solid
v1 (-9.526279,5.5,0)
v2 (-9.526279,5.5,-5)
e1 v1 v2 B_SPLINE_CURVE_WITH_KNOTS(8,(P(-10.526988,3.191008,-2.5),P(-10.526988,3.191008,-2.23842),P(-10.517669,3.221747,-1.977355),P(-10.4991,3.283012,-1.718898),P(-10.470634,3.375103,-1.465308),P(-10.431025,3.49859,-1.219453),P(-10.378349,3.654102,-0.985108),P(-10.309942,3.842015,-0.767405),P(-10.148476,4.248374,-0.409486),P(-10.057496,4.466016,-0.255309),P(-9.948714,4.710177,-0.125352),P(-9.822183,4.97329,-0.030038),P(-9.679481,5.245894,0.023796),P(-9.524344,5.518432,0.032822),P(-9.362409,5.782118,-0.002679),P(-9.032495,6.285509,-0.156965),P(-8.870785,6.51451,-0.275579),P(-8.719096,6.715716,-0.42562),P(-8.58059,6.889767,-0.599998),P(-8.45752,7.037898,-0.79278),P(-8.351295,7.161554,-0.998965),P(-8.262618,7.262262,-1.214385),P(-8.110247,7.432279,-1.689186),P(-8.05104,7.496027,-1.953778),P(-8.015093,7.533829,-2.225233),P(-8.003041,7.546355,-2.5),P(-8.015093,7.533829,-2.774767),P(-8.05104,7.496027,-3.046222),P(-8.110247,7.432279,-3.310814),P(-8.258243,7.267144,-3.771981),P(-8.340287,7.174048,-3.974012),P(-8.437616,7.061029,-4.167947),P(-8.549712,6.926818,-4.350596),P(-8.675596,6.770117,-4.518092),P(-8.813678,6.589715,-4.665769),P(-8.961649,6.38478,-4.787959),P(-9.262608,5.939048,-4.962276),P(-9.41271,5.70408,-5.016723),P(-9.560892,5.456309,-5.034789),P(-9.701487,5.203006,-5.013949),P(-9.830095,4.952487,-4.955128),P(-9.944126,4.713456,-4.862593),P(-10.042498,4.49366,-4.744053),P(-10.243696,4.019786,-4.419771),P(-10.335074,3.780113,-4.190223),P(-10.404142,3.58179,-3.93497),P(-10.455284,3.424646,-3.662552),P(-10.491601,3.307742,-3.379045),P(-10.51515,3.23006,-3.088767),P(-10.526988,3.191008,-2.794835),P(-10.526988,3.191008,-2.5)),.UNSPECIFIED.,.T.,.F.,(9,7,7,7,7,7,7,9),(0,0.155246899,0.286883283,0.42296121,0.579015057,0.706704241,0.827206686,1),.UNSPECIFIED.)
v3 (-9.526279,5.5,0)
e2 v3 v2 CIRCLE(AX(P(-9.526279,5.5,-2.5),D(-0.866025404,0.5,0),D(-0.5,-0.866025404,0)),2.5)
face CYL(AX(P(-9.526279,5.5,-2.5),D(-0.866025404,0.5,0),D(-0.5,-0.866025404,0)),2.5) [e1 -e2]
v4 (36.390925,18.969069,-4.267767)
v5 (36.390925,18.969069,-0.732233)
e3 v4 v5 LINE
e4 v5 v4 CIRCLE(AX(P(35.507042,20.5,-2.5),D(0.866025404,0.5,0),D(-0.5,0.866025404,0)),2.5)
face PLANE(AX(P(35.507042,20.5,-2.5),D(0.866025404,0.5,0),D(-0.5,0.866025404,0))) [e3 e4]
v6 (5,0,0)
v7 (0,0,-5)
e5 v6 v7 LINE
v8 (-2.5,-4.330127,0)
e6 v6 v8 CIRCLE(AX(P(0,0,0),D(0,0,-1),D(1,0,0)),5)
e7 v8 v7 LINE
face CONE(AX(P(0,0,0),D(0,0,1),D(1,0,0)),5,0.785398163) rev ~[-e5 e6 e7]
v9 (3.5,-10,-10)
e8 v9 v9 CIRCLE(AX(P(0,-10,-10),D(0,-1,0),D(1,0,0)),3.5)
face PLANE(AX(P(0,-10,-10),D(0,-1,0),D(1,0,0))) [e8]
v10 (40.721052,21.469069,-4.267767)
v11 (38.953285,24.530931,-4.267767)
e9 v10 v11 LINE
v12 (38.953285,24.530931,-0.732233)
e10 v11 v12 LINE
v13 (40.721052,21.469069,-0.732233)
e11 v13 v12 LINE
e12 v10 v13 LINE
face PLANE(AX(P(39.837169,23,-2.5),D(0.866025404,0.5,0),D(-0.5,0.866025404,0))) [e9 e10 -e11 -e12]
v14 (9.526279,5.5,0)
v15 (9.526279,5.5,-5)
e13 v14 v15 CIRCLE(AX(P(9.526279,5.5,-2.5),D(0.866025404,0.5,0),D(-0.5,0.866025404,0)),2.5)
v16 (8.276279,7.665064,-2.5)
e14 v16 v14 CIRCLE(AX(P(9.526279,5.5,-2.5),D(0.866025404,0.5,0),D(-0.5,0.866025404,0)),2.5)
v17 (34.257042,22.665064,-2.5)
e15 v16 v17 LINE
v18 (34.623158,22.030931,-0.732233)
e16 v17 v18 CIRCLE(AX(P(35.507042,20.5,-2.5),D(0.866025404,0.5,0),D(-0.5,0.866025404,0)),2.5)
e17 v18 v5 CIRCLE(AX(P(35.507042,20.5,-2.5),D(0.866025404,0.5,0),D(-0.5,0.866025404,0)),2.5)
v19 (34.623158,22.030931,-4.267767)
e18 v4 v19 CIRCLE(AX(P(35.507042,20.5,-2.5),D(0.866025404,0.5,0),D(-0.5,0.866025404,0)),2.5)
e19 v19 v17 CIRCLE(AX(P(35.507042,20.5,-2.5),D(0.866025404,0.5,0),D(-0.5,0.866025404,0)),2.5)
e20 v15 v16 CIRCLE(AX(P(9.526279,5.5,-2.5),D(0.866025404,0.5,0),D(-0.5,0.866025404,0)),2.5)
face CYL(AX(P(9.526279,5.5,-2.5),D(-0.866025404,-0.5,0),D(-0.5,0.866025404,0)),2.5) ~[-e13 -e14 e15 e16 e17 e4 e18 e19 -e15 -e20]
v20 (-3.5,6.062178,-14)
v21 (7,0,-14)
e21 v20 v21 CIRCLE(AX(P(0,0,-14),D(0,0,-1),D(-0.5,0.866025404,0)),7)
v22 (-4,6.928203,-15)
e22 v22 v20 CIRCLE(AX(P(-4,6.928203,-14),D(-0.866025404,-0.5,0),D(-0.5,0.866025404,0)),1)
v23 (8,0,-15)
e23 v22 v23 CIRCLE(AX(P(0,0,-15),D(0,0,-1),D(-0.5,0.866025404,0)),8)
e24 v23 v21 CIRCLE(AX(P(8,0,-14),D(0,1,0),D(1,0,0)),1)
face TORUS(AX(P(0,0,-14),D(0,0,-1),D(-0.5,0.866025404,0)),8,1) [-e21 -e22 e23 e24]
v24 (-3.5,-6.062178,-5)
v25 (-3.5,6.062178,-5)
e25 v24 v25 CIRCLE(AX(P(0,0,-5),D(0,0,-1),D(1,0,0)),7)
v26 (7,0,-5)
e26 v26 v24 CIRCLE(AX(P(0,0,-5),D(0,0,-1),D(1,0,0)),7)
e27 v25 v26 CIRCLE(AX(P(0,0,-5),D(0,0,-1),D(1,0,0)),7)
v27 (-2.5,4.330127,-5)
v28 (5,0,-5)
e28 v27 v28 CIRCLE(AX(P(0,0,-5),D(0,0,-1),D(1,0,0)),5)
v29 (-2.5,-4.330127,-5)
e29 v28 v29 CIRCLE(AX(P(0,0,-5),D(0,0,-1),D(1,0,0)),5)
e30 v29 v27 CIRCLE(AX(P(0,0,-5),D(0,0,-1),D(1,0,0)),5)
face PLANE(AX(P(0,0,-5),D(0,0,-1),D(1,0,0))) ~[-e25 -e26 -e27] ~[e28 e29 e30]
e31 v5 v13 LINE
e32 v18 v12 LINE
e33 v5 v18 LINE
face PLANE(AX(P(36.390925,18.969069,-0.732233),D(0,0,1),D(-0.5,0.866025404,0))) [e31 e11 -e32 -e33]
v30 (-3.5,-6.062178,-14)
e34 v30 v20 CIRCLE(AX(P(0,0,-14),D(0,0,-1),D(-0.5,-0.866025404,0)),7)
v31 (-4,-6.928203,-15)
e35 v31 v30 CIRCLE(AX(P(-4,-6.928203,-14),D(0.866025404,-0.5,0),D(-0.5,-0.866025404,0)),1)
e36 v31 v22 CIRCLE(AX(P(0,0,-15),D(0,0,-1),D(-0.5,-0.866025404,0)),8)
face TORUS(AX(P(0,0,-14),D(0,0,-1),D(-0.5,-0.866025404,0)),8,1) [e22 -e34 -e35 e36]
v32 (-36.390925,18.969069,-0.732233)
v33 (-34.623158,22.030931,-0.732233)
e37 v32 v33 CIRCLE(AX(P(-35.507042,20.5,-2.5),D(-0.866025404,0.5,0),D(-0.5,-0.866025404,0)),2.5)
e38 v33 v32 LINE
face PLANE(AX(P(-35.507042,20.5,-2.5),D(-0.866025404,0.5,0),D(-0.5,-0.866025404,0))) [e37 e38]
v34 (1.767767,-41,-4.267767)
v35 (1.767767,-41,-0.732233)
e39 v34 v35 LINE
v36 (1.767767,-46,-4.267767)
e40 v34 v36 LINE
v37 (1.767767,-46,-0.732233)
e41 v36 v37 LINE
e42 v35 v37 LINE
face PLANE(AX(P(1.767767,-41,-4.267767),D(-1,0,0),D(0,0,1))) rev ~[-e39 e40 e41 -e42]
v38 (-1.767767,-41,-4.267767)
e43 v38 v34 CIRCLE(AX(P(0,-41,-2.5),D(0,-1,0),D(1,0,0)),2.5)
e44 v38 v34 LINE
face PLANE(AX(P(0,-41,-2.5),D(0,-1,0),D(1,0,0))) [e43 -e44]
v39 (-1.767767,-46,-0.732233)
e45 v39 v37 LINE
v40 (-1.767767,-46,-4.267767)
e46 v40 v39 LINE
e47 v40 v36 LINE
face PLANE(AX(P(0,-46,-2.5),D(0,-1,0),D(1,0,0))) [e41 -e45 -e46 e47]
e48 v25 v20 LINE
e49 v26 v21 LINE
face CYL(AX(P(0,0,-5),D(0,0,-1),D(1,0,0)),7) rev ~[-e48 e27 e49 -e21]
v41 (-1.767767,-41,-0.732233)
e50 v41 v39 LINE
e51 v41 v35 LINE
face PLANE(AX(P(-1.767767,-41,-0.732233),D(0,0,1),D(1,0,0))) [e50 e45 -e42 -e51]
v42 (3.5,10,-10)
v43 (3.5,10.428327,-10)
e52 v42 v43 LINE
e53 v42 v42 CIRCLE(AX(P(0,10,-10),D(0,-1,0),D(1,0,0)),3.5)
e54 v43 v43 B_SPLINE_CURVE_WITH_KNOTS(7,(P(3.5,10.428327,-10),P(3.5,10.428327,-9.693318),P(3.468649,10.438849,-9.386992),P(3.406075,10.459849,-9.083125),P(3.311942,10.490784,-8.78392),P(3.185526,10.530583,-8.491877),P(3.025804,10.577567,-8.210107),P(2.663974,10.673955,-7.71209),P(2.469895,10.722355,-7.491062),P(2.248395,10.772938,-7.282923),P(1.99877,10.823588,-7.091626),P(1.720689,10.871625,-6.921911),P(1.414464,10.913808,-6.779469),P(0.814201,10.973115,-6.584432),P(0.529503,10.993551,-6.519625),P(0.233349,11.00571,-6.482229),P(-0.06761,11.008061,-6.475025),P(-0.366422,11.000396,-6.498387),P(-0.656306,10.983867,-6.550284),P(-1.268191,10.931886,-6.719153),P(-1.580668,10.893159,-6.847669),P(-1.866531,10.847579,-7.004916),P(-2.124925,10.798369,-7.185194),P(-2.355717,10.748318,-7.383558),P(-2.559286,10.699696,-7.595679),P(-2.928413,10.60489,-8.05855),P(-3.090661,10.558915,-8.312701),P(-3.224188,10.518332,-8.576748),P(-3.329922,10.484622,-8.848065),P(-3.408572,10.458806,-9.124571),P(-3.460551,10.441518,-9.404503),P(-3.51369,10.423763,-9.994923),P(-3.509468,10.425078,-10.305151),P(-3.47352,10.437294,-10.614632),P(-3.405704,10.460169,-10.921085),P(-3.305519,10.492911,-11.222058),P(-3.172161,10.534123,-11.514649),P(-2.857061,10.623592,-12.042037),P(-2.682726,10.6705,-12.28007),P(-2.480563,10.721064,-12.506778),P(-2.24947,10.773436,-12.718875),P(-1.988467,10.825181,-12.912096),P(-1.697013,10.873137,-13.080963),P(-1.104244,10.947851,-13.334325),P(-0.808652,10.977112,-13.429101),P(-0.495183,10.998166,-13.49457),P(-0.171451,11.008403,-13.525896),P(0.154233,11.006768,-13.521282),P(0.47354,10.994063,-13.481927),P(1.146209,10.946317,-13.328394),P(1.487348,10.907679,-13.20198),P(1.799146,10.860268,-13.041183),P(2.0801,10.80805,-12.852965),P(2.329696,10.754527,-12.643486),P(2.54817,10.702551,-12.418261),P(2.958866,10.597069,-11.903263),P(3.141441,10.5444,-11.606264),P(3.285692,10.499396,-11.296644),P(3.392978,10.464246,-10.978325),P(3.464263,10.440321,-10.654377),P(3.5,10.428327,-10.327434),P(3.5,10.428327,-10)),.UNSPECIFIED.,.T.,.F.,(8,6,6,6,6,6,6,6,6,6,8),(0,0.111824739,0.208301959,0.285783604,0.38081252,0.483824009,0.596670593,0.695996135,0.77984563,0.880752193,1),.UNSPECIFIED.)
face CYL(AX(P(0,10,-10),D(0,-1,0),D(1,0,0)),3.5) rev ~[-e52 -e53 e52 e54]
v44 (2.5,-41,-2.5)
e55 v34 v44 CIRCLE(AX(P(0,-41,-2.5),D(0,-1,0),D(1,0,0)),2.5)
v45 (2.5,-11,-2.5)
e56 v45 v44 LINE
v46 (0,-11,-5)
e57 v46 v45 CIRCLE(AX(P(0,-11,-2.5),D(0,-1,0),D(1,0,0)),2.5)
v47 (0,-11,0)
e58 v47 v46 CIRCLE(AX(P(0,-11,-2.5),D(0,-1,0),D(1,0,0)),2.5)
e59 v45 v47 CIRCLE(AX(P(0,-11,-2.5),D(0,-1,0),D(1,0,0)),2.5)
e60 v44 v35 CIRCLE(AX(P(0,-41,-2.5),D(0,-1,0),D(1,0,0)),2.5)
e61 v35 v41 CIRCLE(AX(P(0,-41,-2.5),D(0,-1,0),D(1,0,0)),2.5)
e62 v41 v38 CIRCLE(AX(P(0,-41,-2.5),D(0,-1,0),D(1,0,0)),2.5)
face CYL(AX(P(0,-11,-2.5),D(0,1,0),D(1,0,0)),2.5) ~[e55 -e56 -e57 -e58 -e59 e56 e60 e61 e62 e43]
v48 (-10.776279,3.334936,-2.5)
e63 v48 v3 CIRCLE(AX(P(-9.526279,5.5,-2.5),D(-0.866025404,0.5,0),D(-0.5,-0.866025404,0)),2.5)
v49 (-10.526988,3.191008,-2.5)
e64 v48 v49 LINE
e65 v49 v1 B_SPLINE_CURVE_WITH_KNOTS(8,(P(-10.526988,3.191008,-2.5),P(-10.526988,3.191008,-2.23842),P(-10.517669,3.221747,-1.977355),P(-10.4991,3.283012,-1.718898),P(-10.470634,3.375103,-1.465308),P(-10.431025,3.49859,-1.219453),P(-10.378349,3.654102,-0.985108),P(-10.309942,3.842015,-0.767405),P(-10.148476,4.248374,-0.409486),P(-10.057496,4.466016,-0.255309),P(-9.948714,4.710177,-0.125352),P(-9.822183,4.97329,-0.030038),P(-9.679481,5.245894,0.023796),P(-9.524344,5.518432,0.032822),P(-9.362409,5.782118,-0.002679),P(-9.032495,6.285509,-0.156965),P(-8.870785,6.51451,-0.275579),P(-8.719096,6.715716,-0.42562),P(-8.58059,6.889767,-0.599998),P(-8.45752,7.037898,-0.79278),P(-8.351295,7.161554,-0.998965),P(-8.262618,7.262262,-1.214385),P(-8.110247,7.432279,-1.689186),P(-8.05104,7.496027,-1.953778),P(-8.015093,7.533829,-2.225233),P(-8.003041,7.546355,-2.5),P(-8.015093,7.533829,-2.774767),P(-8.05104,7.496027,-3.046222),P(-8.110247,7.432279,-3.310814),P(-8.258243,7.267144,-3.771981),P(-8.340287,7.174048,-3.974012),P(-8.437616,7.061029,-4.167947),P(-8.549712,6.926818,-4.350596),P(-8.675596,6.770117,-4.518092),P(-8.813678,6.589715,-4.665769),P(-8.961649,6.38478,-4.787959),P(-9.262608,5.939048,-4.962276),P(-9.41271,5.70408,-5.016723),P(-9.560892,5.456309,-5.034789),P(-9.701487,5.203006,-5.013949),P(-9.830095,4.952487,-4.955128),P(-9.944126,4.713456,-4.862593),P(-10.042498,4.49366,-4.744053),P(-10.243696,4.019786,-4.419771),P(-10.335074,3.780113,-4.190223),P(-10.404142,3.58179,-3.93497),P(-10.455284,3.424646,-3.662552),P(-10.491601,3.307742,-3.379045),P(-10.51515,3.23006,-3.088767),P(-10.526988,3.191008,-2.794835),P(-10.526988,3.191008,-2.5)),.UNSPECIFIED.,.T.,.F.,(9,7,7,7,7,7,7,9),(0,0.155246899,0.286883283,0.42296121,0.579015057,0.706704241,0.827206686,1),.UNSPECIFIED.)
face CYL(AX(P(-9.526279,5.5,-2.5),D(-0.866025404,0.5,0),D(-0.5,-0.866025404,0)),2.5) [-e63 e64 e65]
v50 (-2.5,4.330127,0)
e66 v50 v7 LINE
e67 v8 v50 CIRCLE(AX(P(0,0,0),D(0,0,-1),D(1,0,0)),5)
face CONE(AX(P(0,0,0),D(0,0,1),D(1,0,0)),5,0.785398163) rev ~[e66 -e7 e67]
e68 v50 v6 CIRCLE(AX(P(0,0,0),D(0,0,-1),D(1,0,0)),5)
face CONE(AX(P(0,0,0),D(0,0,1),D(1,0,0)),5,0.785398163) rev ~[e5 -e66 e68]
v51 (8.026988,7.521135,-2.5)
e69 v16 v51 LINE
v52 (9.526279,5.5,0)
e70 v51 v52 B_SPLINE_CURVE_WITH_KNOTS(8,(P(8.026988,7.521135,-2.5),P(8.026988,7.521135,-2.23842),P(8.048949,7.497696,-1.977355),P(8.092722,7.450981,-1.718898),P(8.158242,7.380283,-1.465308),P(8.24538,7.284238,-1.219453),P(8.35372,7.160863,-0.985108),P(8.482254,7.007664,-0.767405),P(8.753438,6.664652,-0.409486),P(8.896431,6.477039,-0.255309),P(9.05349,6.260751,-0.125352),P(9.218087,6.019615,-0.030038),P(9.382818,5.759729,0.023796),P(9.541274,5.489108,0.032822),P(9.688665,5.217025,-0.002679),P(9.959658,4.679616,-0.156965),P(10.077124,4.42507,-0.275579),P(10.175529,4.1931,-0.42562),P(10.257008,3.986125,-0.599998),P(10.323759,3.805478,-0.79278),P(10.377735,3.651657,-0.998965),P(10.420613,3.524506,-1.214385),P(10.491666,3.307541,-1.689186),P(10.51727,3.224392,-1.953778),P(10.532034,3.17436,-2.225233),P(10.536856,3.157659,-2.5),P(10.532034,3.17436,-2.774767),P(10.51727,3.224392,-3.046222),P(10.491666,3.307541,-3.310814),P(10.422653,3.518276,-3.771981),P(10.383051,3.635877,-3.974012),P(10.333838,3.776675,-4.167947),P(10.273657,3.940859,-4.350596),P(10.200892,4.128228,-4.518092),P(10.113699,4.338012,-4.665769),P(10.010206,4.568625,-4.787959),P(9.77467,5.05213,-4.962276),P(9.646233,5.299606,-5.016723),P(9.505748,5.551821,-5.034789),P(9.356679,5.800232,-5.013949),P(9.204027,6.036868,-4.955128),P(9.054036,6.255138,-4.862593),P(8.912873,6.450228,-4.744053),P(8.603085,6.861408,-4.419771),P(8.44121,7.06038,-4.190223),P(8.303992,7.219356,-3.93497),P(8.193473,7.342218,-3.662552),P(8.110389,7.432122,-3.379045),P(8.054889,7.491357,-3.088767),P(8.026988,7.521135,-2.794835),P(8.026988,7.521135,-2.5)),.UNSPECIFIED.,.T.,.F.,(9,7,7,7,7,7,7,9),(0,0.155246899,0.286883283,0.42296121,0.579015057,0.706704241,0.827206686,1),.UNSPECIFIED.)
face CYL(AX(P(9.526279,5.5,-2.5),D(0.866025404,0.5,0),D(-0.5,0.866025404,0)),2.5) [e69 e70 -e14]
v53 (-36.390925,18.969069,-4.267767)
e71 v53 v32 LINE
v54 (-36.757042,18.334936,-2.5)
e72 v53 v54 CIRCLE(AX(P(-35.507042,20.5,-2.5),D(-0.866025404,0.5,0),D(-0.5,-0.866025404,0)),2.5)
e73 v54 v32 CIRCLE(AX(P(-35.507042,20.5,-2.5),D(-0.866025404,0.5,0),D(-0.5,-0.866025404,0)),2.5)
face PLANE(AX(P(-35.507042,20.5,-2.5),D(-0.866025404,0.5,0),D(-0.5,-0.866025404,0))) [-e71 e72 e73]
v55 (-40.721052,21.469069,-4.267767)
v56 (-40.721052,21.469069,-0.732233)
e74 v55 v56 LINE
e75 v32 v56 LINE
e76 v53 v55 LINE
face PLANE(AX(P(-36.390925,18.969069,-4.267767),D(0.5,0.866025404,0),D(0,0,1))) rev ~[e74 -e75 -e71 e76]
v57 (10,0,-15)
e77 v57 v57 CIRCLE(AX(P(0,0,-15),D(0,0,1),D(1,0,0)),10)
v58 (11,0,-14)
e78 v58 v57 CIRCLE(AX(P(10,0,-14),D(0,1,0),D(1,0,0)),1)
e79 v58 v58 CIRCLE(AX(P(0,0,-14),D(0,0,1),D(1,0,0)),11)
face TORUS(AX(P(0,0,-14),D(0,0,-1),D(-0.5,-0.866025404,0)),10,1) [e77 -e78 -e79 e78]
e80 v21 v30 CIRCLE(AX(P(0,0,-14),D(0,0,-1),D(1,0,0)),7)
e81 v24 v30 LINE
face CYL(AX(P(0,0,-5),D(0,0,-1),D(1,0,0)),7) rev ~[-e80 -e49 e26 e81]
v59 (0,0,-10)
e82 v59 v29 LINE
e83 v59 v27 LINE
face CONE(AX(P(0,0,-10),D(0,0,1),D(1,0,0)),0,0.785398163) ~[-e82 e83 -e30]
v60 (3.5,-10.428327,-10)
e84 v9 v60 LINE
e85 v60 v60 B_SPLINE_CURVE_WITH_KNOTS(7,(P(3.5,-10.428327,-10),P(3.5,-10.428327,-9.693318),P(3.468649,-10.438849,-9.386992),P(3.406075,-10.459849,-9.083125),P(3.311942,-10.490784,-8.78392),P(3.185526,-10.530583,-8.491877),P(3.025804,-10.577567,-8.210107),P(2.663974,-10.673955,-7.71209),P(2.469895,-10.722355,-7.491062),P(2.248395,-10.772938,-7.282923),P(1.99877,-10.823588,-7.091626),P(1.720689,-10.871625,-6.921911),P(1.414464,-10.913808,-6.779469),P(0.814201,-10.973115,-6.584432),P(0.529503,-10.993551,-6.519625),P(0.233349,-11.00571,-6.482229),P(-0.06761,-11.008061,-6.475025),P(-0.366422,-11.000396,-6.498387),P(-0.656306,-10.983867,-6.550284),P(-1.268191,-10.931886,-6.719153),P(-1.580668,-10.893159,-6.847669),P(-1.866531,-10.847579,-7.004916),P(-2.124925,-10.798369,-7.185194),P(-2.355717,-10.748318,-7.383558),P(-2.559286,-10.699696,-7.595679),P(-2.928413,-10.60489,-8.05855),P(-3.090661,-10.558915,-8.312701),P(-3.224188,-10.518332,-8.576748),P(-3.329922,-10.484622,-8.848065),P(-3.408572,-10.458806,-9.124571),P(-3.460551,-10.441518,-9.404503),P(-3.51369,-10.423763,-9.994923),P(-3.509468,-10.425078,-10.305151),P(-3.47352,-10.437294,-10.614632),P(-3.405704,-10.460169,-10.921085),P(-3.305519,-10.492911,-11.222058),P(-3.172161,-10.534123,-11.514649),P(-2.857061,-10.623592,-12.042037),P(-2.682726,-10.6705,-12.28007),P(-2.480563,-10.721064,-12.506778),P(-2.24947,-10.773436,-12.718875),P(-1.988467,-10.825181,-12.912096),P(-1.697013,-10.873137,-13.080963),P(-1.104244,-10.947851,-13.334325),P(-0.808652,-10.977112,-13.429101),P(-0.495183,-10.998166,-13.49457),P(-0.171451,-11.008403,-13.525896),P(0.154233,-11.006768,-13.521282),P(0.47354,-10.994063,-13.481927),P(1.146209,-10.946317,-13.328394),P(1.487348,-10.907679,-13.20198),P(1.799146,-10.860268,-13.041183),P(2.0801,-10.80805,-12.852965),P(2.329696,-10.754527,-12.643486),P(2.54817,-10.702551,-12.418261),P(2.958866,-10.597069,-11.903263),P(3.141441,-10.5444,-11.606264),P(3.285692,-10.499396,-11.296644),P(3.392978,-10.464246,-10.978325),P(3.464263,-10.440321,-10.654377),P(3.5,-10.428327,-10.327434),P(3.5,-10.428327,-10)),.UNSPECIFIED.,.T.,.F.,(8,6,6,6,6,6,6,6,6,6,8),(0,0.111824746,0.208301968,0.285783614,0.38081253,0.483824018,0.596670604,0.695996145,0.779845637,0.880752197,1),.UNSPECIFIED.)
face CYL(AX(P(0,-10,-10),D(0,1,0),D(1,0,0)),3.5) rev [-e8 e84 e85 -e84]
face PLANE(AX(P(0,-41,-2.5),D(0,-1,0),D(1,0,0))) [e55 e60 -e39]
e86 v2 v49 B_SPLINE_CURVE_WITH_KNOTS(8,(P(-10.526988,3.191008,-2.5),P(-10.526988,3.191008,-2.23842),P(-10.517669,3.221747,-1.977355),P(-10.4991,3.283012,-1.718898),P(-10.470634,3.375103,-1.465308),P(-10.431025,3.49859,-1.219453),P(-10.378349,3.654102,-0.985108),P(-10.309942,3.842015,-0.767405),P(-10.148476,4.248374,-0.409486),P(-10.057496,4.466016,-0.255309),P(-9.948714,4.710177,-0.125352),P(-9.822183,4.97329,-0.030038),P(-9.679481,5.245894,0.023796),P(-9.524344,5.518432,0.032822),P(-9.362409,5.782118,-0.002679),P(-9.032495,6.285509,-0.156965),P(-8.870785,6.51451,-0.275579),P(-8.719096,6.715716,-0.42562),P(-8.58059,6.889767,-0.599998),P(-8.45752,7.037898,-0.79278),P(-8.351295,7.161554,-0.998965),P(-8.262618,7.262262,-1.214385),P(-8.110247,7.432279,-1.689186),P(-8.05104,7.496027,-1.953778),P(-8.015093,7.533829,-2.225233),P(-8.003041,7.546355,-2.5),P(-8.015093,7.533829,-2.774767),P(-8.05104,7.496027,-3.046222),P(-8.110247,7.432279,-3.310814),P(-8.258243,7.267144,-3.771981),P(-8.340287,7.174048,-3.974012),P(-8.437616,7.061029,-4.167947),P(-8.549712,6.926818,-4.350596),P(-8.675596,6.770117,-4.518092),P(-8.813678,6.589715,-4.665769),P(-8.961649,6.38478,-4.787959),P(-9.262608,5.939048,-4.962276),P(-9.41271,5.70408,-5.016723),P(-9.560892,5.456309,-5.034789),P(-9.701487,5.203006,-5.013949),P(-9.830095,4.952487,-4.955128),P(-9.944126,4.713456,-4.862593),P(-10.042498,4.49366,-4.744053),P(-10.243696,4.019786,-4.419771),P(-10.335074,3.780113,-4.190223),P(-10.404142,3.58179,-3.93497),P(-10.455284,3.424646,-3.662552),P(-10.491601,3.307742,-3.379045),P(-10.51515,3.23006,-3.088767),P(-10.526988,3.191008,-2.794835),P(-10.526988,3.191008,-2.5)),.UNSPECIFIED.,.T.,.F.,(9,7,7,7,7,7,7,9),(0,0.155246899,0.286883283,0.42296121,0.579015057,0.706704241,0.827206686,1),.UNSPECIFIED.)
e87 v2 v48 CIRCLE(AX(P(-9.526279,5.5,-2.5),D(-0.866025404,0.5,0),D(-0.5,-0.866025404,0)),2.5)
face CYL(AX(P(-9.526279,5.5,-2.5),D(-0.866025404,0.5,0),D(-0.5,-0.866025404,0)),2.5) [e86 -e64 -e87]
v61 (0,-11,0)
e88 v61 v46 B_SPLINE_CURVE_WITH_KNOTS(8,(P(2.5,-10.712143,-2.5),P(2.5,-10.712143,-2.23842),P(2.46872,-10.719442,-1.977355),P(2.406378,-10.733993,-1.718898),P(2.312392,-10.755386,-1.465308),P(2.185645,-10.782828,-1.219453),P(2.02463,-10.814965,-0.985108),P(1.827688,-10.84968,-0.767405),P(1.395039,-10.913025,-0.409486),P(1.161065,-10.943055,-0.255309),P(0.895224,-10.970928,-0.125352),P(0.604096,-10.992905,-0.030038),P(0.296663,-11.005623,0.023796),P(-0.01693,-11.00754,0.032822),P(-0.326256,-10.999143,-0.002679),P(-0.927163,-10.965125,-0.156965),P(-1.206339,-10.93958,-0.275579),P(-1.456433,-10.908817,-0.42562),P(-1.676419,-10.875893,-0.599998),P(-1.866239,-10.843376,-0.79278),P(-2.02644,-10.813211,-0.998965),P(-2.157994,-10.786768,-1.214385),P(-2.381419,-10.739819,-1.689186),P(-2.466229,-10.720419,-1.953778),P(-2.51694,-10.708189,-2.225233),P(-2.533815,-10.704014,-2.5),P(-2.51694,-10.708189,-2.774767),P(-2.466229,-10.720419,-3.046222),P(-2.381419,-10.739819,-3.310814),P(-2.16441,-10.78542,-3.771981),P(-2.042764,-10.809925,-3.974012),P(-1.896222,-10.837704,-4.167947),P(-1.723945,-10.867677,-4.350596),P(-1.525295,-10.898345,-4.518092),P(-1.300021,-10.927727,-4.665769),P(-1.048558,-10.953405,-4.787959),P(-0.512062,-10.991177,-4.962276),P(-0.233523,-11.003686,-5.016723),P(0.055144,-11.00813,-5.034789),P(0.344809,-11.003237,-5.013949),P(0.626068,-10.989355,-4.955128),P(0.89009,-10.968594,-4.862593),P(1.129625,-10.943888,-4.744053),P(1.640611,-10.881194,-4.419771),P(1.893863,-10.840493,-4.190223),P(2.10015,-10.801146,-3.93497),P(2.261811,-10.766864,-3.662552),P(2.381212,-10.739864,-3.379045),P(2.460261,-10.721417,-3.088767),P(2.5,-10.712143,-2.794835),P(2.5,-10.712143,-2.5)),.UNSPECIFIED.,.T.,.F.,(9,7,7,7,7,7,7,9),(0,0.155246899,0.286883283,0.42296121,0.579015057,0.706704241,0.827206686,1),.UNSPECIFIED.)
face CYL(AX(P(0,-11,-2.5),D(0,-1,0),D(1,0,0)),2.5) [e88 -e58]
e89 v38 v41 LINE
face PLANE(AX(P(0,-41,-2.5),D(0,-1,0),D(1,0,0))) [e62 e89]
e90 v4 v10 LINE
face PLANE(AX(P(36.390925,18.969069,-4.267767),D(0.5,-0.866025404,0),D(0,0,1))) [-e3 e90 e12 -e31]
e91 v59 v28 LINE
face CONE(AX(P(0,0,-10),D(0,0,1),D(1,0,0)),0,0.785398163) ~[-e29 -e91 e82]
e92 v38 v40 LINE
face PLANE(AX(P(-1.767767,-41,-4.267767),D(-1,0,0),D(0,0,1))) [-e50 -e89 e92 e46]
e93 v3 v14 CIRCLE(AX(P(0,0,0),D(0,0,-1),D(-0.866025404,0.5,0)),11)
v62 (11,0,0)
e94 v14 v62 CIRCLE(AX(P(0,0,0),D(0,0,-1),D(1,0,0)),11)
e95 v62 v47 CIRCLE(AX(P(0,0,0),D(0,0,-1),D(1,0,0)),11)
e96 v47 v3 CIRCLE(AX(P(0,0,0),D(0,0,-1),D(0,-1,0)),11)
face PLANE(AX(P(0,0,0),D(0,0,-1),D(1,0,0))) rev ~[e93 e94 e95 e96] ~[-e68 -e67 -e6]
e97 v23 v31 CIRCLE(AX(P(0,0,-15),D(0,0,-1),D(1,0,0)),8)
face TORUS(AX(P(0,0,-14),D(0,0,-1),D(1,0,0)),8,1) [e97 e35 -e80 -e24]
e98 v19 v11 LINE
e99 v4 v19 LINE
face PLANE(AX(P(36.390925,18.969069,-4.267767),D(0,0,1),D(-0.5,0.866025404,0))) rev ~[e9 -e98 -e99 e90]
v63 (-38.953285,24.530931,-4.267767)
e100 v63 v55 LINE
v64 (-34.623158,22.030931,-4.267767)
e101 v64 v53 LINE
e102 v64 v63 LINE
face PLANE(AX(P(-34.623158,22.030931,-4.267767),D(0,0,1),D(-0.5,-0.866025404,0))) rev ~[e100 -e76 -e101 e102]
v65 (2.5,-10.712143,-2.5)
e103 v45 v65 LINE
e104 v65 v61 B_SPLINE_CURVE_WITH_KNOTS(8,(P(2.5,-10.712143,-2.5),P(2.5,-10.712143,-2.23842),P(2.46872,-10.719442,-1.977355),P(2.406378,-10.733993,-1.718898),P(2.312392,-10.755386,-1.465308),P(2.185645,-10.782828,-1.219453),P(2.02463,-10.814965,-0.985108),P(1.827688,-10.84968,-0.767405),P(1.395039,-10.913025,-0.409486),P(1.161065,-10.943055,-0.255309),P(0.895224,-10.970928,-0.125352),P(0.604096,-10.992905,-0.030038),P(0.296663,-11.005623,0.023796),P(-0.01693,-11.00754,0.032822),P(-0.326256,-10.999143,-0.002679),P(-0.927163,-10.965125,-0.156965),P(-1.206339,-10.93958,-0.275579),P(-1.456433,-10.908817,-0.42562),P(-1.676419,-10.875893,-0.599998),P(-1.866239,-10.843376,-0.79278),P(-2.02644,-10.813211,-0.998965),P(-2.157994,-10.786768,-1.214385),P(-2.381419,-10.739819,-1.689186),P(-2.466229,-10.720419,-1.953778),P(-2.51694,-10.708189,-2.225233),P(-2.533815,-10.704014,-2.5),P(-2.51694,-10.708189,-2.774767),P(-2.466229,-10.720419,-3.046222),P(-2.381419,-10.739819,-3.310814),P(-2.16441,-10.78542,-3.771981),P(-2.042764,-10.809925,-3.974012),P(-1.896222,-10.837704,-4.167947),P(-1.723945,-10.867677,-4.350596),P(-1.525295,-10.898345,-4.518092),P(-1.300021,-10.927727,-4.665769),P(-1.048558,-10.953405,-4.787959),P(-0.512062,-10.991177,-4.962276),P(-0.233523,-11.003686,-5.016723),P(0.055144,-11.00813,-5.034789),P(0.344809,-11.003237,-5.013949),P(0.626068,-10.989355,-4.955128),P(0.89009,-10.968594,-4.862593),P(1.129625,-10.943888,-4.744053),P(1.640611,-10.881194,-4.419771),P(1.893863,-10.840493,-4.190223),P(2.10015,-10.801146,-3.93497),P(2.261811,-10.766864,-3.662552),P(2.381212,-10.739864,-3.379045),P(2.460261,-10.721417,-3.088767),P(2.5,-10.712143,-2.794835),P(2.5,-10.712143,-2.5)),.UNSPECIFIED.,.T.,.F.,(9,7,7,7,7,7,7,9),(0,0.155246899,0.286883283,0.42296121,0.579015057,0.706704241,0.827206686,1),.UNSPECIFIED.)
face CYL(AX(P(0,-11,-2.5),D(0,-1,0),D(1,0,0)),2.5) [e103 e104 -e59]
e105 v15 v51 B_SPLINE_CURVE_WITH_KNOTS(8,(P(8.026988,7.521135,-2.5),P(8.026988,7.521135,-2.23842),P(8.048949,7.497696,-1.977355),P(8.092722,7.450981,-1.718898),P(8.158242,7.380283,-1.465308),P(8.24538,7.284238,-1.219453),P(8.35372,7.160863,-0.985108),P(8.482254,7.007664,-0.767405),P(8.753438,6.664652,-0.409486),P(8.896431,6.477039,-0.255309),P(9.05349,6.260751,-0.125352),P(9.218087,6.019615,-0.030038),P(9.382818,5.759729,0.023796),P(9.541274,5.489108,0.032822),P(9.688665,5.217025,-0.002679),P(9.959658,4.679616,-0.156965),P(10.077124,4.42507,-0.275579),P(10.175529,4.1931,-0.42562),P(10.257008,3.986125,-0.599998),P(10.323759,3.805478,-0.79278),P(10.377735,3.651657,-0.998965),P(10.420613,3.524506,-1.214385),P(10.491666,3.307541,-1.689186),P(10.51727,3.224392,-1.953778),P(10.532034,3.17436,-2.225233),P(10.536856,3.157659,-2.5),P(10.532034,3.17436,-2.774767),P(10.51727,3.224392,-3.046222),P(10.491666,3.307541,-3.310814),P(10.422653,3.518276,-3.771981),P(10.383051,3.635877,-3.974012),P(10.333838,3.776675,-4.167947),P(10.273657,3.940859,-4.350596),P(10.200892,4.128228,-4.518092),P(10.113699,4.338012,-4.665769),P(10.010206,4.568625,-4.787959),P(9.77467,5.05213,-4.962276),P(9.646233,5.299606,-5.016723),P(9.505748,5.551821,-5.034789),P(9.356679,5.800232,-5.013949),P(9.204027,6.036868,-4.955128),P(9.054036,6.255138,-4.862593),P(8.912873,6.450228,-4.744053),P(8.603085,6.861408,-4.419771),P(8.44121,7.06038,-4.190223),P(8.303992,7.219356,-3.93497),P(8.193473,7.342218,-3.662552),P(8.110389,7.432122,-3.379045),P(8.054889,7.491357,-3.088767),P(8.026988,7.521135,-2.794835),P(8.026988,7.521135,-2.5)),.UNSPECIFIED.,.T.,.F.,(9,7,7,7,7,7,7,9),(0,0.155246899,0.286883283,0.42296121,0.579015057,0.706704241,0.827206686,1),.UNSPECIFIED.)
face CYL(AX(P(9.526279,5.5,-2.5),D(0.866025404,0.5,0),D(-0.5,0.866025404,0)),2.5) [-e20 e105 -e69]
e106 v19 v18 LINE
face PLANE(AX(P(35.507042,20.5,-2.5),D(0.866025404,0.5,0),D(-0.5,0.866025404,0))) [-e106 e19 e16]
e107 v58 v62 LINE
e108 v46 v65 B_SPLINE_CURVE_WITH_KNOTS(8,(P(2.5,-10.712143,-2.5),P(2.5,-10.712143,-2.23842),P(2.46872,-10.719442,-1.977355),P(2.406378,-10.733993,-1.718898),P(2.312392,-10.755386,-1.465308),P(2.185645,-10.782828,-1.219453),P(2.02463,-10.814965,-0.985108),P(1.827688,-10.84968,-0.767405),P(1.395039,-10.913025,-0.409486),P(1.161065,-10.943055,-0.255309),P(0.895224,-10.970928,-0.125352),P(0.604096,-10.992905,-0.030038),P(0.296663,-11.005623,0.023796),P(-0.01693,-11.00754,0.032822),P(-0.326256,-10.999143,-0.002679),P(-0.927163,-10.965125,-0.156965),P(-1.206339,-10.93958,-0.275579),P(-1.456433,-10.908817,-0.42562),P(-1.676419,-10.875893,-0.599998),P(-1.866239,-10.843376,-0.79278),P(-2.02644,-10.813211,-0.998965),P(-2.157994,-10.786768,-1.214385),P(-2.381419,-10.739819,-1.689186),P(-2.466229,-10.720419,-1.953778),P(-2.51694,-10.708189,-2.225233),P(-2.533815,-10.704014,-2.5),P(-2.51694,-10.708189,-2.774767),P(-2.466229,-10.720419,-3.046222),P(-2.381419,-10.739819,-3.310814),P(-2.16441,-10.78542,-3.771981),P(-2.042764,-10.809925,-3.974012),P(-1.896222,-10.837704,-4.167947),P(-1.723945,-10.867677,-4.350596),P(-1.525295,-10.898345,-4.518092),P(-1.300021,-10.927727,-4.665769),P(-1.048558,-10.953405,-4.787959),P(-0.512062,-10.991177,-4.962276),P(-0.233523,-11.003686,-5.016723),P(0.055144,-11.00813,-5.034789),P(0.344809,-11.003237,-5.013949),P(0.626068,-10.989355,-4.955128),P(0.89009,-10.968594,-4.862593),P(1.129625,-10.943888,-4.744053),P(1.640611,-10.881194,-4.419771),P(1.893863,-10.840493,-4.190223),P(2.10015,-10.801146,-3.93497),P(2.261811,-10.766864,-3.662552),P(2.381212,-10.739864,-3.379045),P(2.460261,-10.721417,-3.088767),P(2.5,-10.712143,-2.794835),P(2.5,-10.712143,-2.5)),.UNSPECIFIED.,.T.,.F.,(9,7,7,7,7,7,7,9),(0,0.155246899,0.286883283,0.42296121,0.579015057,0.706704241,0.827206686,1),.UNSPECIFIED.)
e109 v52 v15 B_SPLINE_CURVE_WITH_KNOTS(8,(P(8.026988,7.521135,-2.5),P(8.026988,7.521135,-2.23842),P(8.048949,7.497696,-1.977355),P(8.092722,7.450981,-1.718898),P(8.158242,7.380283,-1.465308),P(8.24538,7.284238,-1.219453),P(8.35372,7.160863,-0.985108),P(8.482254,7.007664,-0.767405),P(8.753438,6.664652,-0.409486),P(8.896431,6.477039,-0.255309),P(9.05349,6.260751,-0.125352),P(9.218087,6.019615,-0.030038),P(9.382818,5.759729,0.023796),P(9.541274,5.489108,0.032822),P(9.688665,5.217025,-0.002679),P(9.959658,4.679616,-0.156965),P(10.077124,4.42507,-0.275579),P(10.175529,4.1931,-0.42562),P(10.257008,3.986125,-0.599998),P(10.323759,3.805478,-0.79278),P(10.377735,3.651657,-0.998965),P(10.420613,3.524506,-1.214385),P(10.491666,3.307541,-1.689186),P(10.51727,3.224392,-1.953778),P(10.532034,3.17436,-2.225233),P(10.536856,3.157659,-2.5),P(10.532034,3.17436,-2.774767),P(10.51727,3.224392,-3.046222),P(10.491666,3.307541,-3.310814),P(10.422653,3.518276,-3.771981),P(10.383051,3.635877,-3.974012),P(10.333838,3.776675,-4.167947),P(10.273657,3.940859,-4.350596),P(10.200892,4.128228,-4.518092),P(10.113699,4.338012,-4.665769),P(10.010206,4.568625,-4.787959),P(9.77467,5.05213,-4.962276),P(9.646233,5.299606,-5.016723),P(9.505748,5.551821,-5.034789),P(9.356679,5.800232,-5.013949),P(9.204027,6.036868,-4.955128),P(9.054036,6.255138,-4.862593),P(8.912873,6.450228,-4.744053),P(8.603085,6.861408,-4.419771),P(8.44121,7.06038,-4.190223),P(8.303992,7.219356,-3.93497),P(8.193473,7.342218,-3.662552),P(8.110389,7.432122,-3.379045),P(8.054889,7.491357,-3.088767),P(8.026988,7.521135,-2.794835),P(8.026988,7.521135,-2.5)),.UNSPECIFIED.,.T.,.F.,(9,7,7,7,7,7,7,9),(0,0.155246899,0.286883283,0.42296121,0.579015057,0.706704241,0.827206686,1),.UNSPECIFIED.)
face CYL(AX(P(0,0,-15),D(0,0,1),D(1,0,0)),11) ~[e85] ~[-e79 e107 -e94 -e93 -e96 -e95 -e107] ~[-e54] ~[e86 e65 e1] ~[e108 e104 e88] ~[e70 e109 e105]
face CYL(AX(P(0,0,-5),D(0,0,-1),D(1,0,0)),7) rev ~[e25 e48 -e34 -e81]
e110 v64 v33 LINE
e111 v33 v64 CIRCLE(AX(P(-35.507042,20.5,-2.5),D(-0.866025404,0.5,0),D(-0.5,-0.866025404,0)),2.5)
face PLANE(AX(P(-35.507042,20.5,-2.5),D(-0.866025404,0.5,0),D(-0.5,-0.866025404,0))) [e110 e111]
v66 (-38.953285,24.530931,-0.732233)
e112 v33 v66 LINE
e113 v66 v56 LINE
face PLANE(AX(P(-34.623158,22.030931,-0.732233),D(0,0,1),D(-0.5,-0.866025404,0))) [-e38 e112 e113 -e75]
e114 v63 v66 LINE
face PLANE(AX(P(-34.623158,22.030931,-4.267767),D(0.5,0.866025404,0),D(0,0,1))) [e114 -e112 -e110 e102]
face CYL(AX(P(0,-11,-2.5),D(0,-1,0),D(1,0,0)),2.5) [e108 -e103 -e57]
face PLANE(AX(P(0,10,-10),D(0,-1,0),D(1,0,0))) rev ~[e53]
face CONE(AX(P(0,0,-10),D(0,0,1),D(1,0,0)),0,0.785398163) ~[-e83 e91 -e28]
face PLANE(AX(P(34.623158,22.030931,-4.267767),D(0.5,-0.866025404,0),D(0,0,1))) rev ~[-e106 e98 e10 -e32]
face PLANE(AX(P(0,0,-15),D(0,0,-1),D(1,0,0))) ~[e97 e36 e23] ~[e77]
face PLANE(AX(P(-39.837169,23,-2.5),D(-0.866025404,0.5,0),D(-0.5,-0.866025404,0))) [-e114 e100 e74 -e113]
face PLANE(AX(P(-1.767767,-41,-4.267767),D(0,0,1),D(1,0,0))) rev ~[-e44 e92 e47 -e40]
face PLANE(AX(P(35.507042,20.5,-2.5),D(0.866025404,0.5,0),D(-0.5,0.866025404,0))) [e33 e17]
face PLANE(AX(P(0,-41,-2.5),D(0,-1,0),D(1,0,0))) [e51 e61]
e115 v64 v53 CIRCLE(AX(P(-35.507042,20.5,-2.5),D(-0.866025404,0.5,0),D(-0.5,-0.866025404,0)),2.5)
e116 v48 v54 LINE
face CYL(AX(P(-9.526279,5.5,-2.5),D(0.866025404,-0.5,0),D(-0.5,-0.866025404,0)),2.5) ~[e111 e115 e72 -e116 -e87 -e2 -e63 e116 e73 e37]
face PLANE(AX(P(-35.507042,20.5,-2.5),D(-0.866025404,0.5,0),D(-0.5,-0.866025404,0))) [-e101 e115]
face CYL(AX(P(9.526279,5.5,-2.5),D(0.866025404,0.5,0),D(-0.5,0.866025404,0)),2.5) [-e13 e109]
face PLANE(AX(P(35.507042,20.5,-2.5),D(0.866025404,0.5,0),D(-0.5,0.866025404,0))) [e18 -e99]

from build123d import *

# Parameters (mm, degrees)
F1_R          = 2.5
F2_DEPTH      = 30
F2_DEPTH_BACK = 2
F3_W          = 3.5355339059
F3_H          = 3.5355339059
F4_DEPTH      = 5
F5_COUNT      = 3
F6_R          = 1
F8_START      = 10
F7_R          = 3.5
F8_DEPTH      = 2
F9_START      = -10
F9_DEPTH      = 2


with BuildPart() as f11:
    # F10 (on Front) → F11 (revolve)
    with BuildSketch(Plane.XZ):
        Polygon((0, -5), (0, -10), (5, -5), (7, -5), (7, -15), (11, -15), (11, 0), (5, 0), align=None)
    revolve(axis=Axis((0, 0, -0.1335814595), (0, 0, -1)))

    # F1 (on offset) → F2 (join, two sides)
    with BuildSketch(Plane.XZ.offset(11)) as f2_sk:
        with Locations((0, -2.5)):
            Circle(F1_R)
    extrude(amount=F2_DEPTH)
    extrude(f2_sk.sketch, amount=-F2_DEPTH_BACK)

    # F3 (on face) → F4 (join)
    with BuildSketch(Plane.XZ.offset(41)):
        with Locations((0, -2.5)):
            Rectangle(F3_W, F3_H)
    extrude(amount=F4_DEPTH)

    # F5: F11 ×3 about axis
    f5_axis = Axis((0, 0, -15), (0, 0, 1))


with BuildPart() as f11_1:
    add(f11.part)
    for i in range(1, F5_COUNT):
        add(f11.part.rotate(f5_axis, i * 360 / F5_COUNT))

    # F6
    f6_edges = [f11_1.edges().sort_by_distance(p)[0] for p in [
        (-11, 0, -15),
        (-7, 0, -15),
    ]]
    fillet(f6_edges, radius=F6_R)

    # F7 (on Front) → F8 (cut)
    with BuildSketch(Plane.XZ.offset(F8_START)):
        with Locations((0, -10)):
            Circle(F7_R)
    extrude(amount=F8_DEPTH, mode=Mode.SUBTRACT)

    # F7 (on Front) → F9 (cut)
    with BuildSketch(Plane.XZ.offset(F9_START)):
        with Locations((0, -10)):
            Circle(F7_R)
    extrude(amount=-F9_DEPTH, mode=Mode.SUBTRACT)


solid = f11_1.part
